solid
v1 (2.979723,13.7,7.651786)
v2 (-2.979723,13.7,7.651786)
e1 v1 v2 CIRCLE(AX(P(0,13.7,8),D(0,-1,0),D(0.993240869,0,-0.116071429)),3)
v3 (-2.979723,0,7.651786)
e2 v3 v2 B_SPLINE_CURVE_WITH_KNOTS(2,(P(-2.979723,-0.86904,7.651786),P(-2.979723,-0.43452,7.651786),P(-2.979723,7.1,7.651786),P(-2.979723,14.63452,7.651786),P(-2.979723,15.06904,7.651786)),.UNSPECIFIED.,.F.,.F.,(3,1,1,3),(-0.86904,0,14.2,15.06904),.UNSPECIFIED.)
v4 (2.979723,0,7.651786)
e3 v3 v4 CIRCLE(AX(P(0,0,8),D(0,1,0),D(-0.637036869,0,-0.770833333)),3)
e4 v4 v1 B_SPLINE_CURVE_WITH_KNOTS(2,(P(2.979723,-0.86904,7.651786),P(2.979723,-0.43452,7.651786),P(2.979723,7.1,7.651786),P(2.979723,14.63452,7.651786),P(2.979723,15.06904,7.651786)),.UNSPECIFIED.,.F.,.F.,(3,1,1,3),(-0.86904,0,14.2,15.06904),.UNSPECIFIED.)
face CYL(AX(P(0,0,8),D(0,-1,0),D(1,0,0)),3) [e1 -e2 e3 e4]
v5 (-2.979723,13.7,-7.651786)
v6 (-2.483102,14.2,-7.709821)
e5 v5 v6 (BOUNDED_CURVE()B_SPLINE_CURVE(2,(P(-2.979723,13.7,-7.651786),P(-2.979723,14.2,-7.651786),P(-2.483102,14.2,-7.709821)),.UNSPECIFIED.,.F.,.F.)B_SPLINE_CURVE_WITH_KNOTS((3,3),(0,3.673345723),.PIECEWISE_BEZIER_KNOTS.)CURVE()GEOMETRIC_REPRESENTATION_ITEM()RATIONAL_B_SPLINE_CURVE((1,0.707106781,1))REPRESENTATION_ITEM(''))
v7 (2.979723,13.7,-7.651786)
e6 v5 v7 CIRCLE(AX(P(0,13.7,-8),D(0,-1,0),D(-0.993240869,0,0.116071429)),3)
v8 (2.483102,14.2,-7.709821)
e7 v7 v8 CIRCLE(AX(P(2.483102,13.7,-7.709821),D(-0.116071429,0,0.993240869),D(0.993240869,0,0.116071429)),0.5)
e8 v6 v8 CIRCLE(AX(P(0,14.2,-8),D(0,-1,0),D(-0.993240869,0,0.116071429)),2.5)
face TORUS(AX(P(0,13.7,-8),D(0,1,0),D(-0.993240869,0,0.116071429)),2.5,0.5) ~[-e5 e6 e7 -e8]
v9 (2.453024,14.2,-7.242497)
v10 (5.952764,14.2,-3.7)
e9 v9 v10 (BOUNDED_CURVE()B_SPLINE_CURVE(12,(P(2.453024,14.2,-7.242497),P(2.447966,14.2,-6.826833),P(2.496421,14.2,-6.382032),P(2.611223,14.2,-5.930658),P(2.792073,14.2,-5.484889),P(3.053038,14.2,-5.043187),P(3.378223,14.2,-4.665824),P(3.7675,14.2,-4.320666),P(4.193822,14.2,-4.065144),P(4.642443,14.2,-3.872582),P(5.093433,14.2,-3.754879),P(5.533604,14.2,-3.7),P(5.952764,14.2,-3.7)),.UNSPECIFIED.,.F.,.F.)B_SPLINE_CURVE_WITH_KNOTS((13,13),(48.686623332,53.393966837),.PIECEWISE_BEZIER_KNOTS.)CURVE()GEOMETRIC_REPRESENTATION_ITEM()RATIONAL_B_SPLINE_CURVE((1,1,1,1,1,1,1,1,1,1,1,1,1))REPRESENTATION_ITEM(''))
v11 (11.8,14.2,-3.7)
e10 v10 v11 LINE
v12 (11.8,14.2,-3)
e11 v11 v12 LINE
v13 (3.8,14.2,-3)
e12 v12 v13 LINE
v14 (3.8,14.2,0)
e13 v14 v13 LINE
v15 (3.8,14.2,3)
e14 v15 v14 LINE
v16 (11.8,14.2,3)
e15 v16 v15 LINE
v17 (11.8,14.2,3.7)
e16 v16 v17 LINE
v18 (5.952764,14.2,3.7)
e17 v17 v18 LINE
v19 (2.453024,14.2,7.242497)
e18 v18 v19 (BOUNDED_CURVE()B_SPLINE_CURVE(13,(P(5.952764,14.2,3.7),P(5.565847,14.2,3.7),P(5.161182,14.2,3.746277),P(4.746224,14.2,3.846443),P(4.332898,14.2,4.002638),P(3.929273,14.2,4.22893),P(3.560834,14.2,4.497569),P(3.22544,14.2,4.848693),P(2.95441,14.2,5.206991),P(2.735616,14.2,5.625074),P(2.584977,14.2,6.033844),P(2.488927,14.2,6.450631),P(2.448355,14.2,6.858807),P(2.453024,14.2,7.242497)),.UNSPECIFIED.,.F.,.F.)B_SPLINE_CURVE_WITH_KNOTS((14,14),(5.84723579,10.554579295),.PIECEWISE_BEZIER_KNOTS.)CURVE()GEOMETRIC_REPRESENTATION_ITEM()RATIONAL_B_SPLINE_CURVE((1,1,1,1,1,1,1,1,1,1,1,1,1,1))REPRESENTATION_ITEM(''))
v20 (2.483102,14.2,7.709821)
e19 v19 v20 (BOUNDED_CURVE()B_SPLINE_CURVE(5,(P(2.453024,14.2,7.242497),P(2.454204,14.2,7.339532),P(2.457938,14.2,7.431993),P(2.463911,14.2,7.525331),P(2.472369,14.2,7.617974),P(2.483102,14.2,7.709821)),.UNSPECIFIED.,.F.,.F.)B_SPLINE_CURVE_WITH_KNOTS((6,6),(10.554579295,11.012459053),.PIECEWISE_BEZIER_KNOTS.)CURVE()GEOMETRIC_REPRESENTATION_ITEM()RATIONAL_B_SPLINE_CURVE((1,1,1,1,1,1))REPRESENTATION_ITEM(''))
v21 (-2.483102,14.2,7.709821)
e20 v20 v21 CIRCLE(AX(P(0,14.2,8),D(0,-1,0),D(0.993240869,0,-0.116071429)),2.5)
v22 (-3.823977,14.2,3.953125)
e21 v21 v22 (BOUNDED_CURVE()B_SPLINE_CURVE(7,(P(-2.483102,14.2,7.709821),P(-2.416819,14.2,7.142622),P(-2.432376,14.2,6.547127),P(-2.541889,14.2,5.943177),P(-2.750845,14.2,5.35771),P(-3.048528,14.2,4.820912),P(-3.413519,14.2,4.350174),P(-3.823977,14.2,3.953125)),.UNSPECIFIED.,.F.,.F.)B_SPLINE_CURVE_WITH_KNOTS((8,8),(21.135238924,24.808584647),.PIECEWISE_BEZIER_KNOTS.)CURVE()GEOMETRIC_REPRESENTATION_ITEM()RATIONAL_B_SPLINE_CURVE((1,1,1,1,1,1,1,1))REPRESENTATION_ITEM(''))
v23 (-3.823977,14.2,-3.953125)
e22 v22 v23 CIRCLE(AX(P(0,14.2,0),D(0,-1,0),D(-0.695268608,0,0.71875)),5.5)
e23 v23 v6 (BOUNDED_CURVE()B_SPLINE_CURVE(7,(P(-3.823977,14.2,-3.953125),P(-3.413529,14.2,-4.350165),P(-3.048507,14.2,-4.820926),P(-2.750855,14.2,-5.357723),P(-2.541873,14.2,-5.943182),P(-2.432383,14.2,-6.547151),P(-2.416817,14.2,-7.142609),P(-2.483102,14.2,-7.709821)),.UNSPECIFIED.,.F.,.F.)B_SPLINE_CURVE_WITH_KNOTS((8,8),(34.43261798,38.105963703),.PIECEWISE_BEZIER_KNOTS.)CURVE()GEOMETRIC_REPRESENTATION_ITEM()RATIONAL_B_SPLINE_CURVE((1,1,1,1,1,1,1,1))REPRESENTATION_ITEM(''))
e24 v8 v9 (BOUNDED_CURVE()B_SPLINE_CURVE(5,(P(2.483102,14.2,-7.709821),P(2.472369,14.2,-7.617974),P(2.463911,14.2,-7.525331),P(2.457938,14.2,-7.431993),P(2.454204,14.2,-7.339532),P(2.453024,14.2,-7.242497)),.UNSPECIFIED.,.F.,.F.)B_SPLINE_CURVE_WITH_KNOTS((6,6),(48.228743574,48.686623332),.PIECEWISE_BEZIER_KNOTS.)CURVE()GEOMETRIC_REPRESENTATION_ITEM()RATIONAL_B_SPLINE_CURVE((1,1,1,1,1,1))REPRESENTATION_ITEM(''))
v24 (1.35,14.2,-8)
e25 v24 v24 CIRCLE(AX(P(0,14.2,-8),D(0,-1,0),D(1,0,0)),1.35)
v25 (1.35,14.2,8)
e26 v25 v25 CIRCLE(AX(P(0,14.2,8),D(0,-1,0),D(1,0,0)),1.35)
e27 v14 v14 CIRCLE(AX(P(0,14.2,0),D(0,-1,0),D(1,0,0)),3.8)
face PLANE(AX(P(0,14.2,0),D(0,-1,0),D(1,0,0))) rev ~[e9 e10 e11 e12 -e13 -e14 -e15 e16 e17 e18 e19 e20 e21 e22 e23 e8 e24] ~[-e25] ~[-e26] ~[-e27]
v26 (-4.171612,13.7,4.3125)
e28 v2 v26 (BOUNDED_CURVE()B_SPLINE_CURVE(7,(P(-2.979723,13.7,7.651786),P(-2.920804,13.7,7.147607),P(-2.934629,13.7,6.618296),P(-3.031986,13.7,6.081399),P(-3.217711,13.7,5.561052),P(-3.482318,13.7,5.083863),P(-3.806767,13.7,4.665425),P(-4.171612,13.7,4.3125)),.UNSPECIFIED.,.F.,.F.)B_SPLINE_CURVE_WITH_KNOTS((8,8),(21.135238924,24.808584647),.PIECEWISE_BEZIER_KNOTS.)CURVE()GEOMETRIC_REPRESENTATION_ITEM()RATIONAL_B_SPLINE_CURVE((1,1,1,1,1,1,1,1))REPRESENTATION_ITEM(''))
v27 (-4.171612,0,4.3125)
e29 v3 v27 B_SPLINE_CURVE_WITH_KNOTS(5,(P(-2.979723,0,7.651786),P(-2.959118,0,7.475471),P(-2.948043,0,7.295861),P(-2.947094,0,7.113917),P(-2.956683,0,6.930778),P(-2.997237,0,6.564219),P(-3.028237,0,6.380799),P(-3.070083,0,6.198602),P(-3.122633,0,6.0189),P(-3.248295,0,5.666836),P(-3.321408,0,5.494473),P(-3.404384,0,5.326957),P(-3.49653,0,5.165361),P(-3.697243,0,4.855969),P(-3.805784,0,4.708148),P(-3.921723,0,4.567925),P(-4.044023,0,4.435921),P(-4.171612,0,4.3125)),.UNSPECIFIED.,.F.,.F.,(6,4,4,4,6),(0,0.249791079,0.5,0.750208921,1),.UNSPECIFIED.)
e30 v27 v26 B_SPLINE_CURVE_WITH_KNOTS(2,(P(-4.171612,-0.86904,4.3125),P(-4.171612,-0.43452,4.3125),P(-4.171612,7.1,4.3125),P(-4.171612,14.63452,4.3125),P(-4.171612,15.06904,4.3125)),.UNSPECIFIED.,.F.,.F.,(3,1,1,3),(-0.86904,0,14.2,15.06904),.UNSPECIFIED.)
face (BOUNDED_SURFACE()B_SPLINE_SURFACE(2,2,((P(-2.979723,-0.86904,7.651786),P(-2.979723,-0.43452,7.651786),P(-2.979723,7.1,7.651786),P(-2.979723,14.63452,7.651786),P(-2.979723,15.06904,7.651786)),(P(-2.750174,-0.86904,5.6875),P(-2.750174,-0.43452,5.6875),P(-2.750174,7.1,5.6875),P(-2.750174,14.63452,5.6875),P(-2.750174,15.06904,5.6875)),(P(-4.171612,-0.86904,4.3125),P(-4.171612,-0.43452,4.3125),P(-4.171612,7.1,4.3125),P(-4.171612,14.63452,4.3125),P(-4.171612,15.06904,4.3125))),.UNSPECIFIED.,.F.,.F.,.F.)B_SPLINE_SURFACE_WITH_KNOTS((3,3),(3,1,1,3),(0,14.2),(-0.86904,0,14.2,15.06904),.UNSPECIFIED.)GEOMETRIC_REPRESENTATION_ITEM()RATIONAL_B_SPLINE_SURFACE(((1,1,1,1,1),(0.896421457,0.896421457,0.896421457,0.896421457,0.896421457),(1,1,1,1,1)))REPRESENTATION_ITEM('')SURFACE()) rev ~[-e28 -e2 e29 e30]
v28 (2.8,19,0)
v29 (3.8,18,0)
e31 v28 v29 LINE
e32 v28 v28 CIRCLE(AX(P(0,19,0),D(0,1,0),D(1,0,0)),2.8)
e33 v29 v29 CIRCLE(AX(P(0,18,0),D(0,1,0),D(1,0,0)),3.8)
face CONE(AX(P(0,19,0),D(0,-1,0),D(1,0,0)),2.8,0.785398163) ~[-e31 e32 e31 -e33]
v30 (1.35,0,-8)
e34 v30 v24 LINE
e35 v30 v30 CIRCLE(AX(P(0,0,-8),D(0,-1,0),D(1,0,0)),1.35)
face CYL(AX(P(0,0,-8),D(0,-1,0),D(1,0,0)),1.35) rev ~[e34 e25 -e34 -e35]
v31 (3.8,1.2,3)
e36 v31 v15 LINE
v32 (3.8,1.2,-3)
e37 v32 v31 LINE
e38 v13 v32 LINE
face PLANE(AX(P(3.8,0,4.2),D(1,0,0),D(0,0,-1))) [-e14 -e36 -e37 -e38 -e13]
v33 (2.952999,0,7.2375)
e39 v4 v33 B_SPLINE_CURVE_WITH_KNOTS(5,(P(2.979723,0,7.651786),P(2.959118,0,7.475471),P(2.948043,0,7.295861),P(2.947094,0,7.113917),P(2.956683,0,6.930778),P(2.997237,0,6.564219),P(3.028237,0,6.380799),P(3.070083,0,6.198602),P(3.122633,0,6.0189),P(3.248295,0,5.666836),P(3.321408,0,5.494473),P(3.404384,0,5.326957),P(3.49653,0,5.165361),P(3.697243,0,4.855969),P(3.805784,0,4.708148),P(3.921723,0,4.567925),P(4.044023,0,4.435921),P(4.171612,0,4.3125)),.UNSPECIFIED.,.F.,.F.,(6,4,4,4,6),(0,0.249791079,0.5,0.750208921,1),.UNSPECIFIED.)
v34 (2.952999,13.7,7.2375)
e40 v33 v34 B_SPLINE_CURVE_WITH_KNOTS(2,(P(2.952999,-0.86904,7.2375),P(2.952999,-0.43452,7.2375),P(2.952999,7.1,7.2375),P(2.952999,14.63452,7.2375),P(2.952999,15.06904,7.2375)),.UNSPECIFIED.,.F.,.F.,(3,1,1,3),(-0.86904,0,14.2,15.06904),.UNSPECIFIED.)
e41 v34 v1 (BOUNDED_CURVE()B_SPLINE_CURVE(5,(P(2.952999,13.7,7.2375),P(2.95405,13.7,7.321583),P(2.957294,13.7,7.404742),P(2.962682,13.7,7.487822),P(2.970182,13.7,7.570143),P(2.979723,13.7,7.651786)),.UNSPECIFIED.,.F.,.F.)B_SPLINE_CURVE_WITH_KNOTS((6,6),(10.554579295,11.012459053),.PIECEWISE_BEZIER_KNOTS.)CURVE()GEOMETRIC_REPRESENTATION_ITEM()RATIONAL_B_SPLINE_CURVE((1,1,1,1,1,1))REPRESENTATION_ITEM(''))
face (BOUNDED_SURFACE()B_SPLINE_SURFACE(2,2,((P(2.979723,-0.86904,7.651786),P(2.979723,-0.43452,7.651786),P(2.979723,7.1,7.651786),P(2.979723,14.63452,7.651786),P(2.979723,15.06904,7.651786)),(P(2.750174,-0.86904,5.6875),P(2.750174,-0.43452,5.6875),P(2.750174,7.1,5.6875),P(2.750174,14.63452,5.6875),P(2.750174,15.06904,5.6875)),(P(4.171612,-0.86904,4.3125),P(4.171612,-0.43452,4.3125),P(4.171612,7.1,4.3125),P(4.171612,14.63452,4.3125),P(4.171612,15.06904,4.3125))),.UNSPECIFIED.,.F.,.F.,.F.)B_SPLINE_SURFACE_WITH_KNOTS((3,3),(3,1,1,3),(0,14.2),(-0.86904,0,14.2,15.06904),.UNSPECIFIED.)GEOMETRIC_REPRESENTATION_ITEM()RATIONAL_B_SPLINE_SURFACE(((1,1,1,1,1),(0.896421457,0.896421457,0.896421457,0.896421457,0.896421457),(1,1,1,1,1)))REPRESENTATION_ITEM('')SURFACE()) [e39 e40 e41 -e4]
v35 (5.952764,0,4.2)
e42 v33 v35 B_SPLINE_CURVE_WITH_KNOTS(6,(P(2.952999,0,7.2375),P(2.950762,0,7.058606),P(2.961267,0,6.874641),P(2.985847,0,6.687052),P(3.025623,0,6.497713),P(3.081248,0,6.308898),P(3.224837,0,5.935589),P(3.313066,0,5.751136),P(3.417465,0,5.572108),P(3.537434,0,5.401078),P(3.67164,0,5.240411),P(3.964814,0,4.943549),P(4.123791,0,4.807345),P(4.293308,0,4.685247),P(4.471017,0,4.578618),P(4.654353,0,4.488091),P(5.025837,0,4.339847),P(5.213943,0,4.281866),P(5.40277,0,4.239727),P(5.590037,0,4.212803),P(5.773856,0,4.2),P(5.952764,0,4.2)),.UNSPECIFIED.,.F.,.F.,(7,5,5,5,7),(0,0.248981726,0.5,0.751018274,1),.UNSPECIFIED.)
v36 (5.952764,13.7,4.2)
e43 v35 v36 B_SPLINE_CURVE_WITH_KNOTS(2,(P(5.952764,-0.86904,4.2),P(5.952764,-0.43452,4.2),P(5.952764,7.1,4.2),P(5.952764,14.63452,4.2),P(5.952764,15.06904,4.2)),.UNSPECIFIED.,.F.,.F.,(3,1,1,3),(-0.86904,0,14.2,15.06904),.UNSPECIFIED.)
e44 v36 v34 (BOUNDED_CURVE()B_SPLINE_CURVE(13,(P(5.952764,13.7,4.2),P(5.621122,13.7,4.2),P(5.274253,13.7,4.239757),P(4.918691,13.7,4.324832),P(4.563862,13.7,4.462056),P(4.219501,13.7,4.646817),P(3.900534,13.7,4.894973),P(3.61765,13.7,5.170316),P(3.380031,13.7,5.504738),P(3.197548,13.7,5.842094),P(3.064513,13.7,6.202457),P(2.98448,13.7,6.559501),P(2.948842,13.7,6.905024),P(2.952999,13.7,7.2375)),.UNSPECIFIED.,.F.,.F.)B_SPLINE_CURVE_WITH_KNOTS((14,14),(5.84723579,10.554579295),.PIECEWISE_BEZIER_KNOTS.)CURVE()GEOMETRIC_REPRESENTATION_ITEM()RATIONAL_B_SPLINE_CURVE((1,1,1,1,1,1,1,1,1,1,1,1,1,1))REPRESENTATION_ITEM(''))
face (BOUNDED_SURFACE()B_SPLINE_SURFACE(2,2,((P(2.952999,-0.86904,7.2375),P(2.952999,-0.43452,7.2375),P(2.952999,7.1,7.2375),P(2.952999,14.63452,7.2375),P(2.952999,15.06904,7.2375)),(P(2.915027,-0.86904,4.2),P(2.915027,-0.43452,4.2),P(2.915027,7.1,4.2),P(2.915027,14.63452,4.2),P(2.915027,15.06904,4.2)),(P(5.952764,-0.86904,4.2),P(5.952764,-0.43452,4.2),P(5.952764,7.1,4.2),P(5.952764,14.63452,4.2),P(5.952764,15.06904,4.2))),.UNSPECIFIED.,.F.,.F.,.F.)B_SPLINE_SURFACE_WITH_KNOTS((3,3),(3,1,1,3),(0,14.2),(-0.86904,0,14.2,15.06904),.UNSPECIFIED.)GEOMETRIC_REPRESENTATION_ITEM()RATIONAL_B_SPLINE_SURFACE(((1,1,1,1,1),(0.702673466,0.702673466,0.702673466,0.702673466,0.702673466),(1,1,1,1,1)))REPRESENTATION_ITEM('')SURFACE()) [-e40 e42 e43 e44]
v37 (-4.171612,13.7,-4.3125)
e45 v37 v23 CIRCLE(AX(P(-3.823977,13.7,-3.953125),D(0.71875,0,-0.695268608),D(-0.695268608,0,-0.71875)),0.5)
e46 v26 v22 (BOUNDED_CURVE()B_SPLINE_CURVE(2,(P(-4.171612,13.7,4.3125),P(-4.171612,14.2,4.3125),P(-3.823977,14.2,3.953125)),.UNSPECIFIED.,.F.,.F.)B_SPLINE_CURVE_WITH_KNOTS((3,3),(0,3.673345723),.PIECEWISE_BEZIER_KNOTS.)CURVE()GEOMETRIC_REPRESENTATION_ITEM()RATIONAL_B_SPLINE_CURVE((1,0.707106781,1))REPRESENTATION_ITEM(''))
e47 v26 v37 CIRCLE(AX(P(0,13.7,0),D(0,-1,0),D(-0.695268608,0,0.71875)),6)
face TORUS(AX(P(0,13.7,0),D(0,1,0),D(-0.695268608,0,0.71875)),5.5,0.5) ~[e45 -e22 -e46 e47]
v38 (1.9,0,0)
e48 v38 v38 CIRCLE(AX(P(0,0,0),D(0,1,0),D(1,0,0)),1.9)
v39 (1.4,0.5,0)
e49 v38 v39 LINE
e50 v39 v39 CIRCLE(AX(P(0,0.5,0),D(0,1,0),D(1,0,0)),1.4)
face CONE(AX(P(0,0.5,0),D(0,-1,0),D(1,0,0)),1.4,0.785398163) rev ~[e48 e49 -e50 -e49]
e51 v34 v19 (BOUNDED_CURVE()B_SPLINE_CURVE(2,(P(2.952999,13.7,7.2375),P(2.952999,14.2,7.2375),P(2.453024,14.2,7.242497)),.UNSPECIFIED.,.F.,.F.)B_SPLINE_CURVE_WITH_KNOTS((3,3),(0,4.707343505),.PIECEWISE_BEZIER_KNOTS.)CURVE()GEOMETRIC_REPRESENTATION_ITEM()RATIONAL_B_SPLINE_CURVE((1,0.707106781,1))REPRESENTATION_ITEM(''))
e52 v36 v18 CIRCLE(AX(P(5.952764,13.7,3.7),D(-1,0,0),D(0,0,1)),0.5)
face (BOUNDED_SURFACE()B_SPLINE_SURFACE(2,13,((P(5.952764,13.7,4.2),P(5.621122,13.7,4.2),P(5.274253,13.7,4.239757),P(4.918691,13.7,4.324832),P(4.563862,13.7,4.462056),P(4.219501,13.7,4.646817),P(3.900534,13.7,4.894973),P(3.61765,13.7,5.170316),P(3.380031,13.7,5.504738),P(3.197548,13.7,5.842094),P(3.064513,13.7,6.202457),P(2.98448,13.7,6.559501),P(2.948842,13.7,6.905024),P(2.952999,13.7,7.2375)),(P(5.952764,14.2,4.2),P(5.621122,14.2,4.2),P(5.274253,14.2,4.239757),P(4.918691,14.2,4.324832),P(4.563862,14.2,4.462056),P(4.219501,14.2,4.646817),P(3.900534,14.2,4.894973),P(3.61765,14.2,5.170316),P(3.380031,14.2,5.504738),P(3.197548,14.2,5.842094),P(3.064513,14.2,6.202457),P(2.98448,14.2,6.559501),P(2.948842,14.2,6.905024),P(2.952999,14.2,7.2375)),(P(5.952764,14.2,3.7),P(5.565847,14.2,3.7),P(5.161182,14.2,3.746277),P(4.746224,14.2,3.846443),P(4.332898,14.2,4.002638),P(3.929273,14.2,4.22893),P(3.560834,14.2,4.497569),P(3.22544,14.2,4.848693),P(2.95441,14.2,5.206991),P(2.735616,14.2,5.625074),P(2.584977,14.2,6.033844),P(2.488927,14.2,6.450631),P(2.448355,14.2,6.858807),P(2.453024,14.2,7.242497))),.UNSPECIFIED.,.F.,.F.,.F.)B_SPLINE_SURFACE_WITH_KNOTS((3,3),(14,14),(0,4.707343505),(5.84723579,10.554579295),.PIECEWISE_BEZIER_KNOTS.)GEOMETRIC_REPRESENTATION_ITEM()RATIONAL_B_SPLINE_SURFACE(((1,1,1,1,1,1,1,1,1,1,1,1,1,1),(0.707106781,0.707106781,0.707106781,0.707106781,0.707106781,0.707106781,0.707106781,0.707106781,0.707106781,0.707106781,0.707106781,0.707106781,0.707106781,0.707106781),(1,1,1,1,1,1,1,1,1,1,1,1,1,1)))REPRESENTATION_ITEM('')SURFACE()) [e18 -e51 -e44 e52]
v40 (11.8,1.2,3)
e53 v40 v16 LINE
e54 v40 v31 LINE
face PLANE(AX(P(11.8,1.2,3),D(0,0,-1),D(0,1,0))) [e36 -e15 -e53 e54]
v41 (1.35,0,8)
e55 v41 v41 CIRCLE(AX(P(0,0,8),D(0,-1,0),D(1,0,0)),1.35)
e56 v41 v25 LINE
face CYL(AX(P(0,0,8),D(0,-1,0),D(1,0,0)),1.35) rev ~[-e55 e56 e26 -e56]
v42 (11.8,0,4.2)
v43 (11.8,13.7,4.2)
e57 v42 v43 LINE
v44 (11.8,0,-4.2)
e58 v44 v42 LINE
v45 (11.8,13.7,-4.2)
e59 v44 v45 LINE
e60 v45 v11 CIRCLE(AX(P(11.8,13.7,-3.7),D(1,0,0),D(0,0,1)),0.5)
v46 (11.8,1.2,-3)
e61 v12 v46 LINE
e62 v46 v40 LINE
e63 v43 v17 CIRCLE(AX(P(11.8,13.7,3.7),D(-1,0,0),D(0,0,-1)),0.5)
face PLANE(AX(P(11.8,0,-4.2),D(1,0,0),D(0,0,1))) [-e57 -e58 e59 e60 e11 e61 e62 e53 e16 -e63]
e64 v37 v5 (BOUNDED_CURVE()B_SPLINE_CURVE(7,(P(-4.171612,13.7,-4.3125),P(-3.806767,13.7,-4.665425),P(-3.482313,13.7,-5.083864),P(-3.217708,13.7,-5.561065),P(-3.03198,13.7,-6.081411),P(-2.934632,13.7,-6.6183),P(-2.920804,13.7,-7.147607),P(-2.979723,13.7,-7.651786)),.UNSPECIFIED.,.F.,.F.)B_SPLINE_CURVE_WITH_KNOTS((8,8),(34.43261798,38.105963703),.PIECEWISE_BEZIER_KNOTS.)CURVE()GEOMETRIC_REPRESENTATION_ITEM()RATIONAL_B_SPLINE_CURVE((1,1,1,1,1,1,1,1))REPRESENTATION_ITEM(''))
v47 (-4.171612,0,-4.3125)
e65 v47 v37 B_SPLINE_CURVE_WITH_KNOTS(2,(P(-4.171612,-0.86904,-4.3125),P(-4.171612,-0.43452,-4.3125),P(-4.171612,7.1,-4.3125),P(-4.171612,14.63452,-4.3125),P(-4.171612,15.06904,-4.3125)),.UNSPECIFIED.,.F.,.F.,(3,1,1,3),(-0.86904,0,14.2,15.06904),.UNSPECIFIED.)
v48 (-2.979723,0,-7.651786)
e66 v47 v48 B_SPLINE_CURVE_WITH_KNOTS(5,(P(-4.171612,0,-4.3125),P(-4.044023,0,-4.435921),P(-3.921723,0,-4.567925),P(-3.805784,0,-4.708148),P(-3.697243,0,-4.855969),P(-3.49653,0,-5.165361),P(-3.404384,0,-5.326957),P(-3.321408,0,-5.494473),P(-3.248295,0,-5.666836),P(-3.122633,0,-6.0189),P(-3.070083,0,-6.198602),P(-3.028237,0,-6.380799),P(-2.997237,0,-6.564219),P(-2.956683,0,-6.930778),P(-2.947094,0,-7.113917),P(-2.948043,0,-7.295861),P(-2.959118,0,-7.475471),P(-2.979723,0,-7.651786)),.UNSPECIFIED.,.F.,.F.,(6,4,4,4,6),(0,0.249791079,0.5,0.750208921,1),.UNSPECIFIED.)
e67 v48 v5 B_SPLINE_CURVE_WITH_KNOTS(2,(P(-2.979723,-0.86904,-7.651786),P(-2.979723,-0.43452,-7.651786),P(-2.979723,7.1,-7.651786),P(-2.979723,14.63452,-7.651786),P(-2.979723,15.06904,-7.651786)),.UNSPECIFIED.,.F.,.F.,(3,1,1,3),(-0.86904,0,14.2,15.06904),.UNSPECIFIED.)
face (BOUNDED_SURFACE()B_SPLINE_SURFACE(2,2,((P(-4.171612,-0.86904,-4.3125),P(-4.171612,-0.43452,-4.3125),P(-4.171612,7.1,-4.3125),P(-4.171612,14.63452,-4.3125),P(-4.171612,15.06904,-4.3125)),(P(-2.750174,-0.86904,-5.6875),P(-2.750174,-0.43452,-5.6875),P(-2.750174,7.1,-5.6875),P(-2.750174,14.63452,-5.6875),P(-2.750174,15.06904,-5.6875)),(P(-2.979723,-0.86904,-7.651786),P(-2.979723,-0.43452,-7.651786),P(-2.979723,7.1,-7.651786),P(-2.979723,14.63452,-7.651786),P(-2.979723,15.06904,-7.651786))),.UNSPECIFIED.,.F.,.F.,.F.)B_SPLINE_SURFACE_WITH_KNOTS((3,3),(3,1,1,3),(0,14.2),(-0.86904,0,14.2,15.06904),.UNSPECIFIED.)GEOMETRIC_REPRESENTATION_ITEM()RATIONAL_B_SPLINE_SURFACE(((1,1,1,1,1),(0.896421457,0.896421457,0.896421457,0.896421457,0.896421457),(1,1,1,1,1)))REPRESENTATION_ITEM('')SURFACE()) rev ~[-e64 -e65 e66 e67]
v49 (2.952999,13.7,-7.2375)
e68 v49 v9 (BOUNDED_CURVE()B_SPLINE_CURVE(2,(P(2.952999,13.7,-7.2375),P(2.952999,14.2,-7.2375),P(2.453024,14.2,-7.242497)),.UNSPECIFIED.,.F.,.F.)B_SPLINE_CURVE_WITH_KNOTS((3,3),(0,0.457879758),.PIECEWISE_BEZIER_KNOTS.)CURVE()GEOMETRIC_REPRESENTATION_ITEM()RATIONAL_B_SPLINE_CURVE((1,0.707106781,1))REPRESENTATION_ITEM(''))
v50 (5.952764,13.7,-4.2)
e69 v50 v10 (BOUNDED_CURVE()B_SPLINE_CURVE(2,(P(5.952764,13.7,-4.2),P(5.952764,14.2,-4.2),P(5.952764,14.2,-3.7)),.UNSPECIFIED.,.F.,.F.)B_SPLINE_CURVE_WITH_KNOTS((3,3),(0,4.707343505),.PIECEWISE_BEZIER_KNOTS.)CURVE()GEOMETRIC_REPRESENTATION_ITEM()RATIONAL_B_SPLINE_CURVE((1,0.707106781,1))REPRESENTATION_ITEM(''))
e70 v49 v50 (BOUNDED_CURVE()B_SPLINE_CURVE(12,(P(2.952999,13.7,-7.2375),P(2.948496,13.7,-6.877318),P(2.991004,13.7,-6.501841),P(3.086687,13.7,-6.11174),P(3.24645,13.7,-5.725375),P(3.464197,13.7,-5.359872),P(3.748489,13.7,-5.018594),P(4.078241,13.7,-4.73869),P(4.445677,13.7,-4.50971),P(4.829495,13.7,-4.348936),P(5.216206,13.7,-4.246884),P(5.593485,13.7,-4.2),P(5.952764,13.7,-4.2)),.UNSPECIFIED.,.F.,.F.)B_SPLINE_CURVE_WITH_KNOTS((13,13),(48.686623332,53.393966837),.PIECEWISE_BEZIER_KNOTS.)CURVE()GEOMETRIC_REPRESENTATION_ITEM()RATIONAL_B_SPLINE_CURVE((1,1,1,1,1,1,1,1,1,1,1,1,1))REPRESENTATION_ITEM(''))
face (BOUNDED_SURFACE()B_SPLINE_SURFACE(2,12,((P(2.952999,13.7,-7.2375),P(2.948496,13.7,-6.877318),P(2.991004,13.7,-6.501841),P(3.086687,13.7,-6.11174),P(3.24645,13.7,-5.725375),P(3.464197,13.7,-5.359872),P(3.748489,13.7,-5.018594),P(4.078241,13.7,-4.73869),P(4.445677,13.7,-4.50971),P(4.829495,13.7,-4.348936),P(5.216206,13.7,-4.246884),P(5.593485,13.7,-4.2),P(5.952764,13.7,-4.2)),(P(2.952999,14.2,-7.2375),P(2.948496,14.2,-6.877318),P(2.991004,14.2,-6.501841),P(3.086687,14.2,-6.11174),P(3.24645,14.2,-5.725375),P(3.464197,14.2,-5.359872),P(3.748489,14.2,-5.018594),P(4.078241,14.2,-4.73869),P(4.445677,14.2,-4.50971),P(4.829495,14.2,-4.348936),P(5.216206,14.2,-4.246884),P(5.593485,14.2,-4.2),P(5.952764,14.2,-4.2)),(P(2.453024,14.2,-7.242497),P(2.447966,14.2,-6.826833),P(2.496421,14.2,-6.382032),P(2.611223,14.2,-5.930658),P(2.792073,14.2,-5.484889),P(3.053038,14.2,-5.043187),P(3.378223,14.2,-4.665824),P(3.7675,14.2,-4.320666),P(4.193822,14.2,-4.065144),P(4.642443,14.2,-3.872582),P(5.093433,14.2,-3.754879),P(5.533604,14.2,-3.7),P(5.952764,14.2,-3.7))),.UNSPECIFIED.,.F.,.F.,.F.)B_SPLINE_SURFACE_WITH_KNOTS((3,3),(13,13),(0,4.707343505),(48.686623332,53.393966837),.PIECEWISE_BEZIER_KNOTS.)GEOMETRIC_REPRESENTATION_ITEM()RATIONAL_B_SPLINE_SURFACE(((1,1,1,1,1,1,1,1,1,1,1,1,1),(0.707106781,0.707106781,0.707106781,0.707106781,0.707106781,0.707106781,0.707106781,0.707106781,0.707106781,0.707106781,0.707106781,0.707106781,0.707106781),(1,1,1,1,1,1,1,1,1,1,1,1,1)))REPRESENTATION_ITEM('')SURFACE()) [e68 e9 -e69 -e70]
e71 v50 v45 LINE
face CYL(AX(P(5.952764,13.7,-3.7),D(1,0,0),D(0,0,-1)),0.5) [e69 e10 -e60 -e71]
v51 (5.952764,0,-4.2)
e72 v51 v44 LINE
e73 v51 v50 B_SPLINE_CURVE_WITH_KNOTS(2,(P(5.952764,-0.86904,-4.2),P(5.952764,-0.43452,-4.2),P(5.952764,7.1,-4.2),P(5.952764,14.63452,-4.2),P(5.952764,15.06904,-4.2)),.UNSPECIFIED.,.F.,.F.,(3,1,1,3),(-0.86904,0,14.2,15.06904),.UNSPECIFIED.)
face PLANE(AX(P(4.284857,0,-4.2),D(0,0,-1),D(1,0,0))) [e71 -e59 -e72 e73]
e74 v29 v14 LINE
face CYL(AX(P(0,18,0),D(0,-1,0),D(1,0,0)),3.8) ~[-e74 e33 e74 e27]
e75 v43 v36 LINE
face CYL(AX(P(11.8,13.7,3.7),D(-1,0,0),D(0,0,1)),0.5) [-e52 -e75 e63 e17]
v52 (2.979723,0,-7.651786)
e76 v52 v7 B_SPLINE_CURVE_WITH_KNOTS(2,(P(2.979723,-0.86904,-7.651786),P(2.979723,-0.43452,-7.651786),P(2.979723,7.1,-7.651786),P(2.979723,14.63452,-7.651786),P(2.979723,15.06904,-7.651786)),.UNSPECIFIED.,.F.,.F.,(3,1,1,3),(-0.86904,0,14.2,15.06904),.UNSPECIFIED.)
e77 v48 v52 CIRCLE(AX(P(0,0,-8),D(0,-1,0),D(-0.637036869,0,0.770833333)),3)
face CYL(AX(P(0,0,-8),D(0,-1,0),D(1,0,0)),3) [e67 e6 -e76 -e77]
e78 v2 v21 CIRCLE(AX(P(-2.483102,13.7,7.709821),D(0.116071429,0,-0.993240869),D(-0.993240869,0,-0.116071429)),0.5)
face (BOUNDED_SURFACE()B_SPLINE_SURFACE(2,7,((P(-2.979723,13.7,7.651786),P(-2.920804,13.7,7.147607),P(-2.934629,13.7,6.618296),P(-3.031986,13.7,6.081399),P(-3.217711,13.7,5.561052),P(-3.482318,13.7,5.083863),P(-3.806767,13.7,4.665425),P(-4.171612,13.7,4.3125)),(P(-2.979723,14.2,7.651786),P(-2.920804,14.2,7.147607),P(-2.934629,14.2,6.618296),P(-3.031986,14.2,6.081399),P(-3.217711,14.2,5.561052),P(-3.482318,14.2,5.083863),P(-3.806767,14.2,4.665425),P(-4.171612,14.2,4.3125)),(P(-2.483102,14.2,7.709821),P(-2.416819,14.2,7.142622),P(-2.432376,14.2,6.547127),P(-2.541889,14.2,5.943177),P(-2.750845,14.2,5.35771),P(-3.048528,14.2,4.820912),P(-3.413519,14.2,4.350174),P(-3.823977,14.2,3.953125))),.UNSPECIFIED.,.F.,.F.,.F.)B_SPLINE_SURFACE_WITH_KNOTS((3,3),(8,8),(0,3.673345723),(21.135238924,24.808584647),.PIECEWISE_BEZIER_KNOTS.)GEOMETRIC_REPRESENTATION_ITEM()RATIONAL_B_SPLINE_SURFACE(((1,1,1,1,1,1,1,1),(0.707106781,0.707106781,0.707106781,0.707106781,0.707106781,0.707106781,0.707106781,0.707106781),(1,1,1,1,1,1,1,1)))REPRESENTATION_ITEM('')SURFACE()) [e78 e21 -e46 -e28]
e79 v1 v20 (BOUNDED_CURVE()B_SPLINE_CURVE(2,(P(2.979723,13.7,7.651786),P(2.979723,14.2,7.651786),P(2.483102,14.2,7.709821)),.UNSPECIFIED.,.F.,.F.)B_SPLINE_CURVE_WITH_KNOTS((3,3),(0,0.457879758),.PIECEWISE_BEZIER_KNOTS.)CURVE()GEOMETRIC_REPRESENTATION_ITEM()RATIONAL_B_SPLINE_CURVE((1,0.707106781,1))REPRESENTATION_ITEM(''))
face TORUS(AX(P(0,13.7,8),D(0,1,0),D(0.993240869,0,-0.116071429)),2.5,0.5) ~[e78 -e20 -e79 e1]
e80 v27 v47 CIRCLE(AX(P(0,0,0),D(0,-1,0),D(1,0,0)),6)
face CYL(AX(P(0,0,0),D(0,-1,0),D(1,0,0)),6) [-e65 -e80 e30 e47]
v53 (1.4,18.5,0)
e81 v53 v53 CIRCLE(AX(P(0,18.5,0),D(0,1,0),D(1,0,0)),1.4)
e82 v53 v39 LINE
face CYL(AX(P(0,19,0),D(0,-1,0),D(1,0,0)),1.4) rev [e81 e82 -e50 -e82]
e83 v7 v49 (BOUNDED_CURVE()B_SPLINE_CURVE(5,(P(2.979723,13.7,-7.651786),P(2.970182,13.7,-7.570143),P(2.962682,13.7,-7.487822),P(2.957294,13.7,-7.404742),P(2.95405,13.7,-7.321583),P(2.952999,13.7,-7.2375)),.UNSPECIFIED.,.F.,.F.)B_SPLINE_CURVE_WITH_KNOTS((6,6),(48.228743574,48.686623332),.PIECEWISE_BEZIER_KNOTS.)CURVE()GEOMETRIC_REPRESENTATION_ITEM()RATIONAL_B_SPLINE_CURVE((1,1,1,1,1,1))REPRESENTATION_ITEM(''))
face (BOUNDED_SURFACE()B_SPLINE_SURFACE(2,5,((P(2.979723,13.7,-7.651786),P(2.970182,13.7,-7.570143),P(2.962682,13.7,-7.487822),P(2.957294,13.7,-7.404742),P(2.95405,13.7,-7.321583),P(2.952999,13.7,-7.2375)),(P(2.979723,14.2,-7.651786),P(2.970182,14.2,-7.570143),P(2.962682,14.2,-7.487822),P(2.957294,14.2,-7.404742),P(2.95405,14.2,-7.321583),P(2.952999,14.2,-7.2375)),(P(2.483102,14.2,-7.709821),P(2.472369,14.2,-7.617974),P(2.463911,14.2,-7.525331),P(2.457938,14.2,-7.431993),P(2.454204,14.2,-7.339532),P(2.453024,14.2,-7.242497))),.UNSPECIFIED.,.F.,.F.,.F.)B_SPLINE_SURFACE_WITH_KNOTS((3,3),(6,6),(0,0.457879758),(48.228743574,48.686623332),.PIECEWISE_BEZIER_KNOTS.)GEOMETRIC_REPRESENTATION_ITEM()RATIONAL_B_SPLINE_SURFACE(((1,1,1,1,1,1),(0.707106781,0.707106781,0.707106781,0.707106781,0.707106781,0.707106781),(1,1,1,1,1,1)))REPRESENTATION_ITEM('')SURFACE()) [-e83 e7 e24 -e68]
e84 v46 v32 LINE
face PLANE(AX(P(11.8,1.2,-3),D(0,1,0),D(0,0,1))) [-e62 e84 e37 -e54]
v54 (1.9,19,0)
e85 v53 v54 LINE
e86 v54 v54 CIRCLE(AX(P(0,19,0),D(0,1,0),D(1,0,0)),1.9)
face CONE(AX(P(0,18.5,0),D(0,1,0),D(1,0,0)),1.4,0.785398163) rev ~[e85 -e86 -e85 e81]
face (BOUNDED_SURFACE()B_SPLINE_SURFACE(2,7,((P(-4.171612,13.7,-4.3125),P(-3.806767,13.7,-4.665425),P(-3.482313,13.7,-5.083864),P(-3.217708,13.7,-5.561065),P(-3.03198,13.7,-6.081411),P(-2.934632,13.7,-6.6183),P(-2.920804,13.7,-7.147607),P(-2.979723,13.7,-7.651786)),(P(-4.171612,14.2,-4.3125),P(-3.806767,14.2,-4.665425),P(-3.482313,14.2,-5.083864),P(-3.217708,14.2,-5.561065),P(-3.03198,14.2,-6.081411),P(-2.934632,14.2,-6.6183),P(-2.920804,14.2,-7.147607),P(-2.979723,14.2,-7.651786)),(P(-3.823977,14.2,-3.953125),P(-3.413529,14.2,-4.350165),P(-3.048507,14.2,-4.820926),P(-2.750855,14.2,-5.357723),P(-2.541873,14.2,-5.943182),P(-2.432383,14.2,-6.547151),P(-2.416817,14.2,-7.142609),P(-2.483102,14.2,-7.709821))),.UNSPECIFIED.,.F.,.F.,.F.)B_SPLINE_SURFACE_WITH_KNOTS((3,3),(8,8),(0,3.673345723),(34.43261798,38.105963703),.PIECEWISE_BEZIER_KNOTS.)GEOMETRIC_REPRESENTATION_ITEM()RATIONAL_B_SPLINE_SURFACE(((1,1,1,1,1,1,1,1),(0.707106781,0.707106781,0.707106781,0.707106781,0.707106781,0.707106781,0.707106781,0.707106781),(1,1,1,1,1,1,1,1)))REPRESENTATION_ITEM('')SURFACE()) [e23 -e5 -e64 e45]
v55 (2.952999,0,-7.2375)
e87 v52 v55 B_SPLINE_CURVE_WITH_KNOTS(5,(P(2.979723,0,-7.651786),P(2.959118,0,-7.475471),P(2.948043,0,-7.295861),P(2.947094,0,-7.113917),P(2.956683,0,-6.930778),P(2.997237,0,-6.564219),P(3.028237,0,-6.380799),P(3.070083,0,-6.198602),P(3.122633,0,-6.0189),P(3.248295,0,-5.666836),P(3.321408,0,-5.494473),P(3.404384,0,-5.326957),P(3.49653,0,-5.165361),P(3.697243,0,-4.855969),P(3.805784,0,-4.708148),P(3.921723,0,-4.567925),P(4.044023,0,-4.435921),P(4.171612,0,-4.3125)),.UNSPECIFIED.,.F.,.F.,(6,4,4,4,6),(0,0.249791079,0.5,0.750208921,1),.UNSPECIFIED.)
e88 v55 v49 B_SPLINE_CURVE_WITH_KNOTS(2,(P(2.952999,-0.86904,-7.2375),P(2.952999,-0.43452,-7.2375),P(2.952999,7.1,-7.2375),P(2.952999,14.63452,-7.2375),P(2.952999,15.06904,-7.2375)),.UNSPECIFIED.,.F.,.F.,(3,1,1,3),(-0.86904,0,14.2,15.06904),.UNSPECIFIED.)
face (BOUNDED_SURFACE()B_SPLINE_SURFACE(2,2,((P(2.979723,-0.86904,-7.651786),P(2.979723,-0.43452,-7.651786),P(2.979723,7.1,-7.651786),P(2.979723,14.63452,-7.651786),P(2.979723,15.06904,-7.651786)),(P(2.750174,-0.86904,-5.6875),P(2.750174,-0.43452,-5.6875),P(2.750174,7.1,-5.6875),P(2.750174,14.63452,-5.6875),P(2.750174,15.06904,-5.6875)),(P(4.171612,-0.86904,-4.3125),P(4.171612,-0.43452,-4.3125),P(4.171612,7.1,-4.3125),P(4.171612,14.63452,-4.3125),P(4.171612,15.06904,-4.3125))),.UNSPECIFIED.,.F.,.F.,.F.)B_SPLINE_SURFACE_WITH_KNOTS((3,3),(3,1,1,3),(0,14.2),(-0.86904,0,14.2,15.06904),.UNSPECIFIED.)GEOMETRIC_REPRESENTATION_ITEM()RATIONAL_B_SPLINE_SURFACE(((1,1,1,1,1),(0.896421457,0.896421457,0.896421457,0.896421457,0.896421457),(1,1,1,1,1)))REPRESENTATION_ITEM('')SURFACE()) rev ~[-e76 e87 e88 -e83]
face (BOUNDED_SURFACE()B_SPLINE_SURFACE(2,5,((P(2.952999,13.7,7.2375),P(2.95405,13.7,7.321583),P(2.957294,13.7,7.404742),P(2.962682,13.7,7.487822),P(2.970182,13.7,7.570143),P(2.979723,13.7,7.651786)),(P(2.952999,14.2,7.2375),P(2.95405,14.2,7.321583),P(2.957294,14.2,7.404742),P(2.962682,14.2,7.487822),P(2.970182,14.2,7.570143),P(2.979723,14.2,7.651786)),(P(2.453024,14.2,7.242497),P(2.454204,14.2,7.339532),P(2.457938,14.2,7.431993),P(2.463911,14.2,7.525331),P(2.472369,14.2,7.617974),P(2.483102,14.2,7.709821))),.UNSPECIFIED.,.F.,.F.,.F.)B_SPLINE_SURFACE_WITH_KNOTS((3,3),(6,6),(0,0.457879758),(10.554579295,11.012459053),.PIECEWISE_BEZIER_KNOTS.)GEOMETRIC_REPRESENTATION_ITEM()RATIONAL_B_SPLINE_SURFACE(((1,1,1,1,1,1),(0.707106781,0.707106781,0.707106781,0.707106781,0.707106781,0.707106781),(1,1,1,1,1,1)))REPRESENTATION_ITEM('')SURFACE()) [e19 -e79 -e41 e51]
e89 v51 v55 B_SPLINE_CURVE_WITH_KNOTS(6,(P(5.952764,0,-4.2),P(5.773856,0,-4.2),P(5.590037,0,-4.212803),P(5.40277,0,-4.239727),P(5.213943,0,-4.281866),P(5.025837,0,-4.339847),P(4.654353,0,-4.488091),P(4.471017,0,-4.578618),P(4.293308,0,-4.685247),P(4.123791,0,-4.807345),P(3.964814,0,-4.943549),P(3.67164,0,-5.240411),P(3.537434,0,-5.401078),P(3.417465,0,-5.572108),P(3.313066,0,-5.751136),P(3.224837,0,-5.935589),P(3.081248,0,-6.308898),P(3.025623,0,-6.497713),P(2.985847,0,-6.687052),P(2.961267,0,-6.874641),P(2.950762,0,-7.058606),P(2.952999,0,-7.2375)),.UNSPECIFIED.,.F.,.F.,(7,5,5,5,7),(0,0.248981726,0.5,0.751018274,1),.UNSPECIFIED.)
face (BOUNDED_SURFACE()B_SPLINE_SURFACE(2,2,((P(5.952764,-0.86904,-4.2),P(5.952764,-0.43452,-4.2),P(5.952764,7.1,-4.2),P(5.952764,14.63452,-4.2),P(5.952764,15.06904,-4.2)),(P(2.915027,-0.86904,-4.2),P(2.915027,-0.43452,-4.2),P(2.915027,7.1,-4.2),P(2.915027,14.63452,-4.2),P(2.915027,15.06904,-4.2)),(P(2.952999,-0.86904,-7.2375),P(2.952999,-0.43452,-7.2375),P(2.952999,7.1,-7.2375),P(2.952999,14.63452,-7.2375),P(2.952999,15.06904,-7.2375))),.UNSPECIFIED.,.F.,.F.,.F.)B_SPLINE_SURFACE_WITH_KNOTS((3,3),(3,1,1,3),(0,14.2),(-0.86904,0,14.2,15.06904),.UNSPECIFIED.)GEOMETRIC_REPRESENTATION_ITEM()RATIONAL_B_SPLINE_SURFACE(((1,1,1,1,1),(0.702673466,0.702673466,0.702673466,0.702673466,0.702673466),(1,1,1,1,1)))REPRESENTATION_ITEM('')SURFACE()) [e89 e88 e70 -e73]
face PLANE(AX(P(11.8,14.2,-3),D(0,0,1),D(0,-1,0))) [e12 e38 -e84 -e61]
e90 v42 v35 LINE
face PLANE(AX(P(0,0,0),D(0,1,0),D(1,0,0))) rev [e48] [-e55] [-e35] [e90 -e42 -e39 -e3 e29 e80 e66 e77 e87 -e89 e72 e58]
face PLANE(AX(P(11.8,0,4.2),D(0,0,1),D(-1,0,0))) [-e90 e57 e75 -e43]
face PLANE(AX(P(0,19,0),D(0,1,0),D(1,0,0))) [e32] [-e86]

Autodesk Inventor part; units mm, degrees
ref_plane "YZ Plane" through (0, 0, 0) normal (1, 0, 0) x (0, 1, 0)
ref_plane "XZ Plane" through (0, 0, 0) normal (0, 1, 0) x (-1, 0, 0)
ref_plane "XY Plane" through (0, 0, 0) normal (0, 0, 1) x (1, 0, 0)
sketch "Sketch1" plane through (0, 0, 0) normal (0, 0, 1) x (1, 0, 0)
  line L0 (0, 0) -> (0, 38.4841) construction
  line L1 (2.8, 19) -> (3.8, 18)
  line L2 (3.8, 18) -> (3.8, 0)
  line L3 (2.8, 19) -> (1.4, 19)
  line L4 (1.4, 19) -> (1.4, 0)
  line L5 (1.4, 0) -> (3.8, 0)
  dimension "d1" = 1.4
  dimension "d8" = 1
  dimension "d20" = 3.8
  dimension "d46" = 19
revolve "Revolution1" add sketch "Sketch1" angle 360 about axis through (0, 0, 0) along (0, 1, 0)
chamfer "Chamfer1" distance 0.5 angle 45 2 edges at (-1.4, 19, 0) (-1.4, 0, 0)
sketch "Sketch6" plane through (0, 0, 0) normal (0, -1, 0) x (1, 0, 0)
  line L0 (0, 0) -> (0, -8) construction
  circle A0 centre (0, 8) radius 3
  circle A1 centre (0, -8) radius 3
  circle A2 centre (0, 0) radius 6
  line L1 (0, 0) -> (0, 8) construction
  circle A3 centre (0, 8) radius 1.35
  circle A4 centre (0, -8) radius 1.35
  circle A5 centre (0, 0) radius 1.9 projected
  line L2 (11.8, 4.2) -> (2, 4.2)
  line L3 (2, 4.2) -> (2, -4.2)
  line L4 (2, -4.2) -> (11.8, -4.2)
  line L5 (11.8, -4.2) -> (11.8, 4.2)
  line L6 (0, 0) -> (2, 4.2) construction
  line L7 (0, 0) -> (2, -4.2) construction
  point P0 (1.9111, -5.6875)
  point P1 (1.9111, 5.6875)
  point P2 (-1.9111, 5.6875)
  point P3 (-1.9111, -5.6875)
  point P4 (4.2849, 4.2)
  point P5 (4.2849, -4.2)
  dimension "d24" = 6
  dimension "d26" = 8
  dimension "d27" = 12
  dimension "d28" = 2.7
  dimension "d33" = 2
  dimension "d34" = 8.4
  dimension "d35" = 11.8
extrude "Extrusion3" add sketch "Sketch6" against normal blind 14.2
fillet "Fillet1" radius 4 4 edges at (-1.9111, 7.1, 5.6875) (1.9111, 7.1, 5.6875) (1.9111, 7.1, -5.6875) (-1.9111, 7.1, -5.6875)
sketch "Sketch7" plane through (0, 0, -8) normal (0, -1, 0) x (1, 0, 0)
  circle A0 centre (0, 8) radius 6
sketch "Sketch8" plane through (0, 0, 8) normal (0, -1, 0) x (1, 0, 0)
  point P0 (0, -8)
sketch "Sketch10" plane through (11.8, 0, 4.2) normal (1, 0, 0) x (0, 0, -1)
  line L0 (7.2, 1.2) -> (1.2, 1.2)
  line L1 (1.2, 1.2) -> (1.2, 14.2)
  line L2 (1.2, 14.2) -> (7.2, 14.2)
  line L3 (7.2, 14.2) -> (7.2, 1.2)
  line L4 (7.2, 1.2) -> (4.2, 0) construction
  line L5 (4.2, 0) -> (1.2, 1.2) construction
  line L6 (8.4, 0) -> (0, 0) projected
  dimension "d39" = 6
  dimension "d40" = 1.2
  dimension "d41" = 13
extrude "Extrusion4" cut sketch "Sketch10" against normal blind 8
fillet "Fillet4" radius 3 2 edges at (4.2849, 7.1, 4.2) (4.2849, 7.1, -4.2)
fillet "Fillet5" radius 0.5 7 edges at (2.961, 14.2, -7.446) (-6, 14.2, 0) (2.961, 14.2, 7.446) (0, 14.2, 11) (8.8764, 14.2, 4.2) (8.8764, 14.2, -4.2) (0, 14.2, -11)
properties part number "caster-bng"
